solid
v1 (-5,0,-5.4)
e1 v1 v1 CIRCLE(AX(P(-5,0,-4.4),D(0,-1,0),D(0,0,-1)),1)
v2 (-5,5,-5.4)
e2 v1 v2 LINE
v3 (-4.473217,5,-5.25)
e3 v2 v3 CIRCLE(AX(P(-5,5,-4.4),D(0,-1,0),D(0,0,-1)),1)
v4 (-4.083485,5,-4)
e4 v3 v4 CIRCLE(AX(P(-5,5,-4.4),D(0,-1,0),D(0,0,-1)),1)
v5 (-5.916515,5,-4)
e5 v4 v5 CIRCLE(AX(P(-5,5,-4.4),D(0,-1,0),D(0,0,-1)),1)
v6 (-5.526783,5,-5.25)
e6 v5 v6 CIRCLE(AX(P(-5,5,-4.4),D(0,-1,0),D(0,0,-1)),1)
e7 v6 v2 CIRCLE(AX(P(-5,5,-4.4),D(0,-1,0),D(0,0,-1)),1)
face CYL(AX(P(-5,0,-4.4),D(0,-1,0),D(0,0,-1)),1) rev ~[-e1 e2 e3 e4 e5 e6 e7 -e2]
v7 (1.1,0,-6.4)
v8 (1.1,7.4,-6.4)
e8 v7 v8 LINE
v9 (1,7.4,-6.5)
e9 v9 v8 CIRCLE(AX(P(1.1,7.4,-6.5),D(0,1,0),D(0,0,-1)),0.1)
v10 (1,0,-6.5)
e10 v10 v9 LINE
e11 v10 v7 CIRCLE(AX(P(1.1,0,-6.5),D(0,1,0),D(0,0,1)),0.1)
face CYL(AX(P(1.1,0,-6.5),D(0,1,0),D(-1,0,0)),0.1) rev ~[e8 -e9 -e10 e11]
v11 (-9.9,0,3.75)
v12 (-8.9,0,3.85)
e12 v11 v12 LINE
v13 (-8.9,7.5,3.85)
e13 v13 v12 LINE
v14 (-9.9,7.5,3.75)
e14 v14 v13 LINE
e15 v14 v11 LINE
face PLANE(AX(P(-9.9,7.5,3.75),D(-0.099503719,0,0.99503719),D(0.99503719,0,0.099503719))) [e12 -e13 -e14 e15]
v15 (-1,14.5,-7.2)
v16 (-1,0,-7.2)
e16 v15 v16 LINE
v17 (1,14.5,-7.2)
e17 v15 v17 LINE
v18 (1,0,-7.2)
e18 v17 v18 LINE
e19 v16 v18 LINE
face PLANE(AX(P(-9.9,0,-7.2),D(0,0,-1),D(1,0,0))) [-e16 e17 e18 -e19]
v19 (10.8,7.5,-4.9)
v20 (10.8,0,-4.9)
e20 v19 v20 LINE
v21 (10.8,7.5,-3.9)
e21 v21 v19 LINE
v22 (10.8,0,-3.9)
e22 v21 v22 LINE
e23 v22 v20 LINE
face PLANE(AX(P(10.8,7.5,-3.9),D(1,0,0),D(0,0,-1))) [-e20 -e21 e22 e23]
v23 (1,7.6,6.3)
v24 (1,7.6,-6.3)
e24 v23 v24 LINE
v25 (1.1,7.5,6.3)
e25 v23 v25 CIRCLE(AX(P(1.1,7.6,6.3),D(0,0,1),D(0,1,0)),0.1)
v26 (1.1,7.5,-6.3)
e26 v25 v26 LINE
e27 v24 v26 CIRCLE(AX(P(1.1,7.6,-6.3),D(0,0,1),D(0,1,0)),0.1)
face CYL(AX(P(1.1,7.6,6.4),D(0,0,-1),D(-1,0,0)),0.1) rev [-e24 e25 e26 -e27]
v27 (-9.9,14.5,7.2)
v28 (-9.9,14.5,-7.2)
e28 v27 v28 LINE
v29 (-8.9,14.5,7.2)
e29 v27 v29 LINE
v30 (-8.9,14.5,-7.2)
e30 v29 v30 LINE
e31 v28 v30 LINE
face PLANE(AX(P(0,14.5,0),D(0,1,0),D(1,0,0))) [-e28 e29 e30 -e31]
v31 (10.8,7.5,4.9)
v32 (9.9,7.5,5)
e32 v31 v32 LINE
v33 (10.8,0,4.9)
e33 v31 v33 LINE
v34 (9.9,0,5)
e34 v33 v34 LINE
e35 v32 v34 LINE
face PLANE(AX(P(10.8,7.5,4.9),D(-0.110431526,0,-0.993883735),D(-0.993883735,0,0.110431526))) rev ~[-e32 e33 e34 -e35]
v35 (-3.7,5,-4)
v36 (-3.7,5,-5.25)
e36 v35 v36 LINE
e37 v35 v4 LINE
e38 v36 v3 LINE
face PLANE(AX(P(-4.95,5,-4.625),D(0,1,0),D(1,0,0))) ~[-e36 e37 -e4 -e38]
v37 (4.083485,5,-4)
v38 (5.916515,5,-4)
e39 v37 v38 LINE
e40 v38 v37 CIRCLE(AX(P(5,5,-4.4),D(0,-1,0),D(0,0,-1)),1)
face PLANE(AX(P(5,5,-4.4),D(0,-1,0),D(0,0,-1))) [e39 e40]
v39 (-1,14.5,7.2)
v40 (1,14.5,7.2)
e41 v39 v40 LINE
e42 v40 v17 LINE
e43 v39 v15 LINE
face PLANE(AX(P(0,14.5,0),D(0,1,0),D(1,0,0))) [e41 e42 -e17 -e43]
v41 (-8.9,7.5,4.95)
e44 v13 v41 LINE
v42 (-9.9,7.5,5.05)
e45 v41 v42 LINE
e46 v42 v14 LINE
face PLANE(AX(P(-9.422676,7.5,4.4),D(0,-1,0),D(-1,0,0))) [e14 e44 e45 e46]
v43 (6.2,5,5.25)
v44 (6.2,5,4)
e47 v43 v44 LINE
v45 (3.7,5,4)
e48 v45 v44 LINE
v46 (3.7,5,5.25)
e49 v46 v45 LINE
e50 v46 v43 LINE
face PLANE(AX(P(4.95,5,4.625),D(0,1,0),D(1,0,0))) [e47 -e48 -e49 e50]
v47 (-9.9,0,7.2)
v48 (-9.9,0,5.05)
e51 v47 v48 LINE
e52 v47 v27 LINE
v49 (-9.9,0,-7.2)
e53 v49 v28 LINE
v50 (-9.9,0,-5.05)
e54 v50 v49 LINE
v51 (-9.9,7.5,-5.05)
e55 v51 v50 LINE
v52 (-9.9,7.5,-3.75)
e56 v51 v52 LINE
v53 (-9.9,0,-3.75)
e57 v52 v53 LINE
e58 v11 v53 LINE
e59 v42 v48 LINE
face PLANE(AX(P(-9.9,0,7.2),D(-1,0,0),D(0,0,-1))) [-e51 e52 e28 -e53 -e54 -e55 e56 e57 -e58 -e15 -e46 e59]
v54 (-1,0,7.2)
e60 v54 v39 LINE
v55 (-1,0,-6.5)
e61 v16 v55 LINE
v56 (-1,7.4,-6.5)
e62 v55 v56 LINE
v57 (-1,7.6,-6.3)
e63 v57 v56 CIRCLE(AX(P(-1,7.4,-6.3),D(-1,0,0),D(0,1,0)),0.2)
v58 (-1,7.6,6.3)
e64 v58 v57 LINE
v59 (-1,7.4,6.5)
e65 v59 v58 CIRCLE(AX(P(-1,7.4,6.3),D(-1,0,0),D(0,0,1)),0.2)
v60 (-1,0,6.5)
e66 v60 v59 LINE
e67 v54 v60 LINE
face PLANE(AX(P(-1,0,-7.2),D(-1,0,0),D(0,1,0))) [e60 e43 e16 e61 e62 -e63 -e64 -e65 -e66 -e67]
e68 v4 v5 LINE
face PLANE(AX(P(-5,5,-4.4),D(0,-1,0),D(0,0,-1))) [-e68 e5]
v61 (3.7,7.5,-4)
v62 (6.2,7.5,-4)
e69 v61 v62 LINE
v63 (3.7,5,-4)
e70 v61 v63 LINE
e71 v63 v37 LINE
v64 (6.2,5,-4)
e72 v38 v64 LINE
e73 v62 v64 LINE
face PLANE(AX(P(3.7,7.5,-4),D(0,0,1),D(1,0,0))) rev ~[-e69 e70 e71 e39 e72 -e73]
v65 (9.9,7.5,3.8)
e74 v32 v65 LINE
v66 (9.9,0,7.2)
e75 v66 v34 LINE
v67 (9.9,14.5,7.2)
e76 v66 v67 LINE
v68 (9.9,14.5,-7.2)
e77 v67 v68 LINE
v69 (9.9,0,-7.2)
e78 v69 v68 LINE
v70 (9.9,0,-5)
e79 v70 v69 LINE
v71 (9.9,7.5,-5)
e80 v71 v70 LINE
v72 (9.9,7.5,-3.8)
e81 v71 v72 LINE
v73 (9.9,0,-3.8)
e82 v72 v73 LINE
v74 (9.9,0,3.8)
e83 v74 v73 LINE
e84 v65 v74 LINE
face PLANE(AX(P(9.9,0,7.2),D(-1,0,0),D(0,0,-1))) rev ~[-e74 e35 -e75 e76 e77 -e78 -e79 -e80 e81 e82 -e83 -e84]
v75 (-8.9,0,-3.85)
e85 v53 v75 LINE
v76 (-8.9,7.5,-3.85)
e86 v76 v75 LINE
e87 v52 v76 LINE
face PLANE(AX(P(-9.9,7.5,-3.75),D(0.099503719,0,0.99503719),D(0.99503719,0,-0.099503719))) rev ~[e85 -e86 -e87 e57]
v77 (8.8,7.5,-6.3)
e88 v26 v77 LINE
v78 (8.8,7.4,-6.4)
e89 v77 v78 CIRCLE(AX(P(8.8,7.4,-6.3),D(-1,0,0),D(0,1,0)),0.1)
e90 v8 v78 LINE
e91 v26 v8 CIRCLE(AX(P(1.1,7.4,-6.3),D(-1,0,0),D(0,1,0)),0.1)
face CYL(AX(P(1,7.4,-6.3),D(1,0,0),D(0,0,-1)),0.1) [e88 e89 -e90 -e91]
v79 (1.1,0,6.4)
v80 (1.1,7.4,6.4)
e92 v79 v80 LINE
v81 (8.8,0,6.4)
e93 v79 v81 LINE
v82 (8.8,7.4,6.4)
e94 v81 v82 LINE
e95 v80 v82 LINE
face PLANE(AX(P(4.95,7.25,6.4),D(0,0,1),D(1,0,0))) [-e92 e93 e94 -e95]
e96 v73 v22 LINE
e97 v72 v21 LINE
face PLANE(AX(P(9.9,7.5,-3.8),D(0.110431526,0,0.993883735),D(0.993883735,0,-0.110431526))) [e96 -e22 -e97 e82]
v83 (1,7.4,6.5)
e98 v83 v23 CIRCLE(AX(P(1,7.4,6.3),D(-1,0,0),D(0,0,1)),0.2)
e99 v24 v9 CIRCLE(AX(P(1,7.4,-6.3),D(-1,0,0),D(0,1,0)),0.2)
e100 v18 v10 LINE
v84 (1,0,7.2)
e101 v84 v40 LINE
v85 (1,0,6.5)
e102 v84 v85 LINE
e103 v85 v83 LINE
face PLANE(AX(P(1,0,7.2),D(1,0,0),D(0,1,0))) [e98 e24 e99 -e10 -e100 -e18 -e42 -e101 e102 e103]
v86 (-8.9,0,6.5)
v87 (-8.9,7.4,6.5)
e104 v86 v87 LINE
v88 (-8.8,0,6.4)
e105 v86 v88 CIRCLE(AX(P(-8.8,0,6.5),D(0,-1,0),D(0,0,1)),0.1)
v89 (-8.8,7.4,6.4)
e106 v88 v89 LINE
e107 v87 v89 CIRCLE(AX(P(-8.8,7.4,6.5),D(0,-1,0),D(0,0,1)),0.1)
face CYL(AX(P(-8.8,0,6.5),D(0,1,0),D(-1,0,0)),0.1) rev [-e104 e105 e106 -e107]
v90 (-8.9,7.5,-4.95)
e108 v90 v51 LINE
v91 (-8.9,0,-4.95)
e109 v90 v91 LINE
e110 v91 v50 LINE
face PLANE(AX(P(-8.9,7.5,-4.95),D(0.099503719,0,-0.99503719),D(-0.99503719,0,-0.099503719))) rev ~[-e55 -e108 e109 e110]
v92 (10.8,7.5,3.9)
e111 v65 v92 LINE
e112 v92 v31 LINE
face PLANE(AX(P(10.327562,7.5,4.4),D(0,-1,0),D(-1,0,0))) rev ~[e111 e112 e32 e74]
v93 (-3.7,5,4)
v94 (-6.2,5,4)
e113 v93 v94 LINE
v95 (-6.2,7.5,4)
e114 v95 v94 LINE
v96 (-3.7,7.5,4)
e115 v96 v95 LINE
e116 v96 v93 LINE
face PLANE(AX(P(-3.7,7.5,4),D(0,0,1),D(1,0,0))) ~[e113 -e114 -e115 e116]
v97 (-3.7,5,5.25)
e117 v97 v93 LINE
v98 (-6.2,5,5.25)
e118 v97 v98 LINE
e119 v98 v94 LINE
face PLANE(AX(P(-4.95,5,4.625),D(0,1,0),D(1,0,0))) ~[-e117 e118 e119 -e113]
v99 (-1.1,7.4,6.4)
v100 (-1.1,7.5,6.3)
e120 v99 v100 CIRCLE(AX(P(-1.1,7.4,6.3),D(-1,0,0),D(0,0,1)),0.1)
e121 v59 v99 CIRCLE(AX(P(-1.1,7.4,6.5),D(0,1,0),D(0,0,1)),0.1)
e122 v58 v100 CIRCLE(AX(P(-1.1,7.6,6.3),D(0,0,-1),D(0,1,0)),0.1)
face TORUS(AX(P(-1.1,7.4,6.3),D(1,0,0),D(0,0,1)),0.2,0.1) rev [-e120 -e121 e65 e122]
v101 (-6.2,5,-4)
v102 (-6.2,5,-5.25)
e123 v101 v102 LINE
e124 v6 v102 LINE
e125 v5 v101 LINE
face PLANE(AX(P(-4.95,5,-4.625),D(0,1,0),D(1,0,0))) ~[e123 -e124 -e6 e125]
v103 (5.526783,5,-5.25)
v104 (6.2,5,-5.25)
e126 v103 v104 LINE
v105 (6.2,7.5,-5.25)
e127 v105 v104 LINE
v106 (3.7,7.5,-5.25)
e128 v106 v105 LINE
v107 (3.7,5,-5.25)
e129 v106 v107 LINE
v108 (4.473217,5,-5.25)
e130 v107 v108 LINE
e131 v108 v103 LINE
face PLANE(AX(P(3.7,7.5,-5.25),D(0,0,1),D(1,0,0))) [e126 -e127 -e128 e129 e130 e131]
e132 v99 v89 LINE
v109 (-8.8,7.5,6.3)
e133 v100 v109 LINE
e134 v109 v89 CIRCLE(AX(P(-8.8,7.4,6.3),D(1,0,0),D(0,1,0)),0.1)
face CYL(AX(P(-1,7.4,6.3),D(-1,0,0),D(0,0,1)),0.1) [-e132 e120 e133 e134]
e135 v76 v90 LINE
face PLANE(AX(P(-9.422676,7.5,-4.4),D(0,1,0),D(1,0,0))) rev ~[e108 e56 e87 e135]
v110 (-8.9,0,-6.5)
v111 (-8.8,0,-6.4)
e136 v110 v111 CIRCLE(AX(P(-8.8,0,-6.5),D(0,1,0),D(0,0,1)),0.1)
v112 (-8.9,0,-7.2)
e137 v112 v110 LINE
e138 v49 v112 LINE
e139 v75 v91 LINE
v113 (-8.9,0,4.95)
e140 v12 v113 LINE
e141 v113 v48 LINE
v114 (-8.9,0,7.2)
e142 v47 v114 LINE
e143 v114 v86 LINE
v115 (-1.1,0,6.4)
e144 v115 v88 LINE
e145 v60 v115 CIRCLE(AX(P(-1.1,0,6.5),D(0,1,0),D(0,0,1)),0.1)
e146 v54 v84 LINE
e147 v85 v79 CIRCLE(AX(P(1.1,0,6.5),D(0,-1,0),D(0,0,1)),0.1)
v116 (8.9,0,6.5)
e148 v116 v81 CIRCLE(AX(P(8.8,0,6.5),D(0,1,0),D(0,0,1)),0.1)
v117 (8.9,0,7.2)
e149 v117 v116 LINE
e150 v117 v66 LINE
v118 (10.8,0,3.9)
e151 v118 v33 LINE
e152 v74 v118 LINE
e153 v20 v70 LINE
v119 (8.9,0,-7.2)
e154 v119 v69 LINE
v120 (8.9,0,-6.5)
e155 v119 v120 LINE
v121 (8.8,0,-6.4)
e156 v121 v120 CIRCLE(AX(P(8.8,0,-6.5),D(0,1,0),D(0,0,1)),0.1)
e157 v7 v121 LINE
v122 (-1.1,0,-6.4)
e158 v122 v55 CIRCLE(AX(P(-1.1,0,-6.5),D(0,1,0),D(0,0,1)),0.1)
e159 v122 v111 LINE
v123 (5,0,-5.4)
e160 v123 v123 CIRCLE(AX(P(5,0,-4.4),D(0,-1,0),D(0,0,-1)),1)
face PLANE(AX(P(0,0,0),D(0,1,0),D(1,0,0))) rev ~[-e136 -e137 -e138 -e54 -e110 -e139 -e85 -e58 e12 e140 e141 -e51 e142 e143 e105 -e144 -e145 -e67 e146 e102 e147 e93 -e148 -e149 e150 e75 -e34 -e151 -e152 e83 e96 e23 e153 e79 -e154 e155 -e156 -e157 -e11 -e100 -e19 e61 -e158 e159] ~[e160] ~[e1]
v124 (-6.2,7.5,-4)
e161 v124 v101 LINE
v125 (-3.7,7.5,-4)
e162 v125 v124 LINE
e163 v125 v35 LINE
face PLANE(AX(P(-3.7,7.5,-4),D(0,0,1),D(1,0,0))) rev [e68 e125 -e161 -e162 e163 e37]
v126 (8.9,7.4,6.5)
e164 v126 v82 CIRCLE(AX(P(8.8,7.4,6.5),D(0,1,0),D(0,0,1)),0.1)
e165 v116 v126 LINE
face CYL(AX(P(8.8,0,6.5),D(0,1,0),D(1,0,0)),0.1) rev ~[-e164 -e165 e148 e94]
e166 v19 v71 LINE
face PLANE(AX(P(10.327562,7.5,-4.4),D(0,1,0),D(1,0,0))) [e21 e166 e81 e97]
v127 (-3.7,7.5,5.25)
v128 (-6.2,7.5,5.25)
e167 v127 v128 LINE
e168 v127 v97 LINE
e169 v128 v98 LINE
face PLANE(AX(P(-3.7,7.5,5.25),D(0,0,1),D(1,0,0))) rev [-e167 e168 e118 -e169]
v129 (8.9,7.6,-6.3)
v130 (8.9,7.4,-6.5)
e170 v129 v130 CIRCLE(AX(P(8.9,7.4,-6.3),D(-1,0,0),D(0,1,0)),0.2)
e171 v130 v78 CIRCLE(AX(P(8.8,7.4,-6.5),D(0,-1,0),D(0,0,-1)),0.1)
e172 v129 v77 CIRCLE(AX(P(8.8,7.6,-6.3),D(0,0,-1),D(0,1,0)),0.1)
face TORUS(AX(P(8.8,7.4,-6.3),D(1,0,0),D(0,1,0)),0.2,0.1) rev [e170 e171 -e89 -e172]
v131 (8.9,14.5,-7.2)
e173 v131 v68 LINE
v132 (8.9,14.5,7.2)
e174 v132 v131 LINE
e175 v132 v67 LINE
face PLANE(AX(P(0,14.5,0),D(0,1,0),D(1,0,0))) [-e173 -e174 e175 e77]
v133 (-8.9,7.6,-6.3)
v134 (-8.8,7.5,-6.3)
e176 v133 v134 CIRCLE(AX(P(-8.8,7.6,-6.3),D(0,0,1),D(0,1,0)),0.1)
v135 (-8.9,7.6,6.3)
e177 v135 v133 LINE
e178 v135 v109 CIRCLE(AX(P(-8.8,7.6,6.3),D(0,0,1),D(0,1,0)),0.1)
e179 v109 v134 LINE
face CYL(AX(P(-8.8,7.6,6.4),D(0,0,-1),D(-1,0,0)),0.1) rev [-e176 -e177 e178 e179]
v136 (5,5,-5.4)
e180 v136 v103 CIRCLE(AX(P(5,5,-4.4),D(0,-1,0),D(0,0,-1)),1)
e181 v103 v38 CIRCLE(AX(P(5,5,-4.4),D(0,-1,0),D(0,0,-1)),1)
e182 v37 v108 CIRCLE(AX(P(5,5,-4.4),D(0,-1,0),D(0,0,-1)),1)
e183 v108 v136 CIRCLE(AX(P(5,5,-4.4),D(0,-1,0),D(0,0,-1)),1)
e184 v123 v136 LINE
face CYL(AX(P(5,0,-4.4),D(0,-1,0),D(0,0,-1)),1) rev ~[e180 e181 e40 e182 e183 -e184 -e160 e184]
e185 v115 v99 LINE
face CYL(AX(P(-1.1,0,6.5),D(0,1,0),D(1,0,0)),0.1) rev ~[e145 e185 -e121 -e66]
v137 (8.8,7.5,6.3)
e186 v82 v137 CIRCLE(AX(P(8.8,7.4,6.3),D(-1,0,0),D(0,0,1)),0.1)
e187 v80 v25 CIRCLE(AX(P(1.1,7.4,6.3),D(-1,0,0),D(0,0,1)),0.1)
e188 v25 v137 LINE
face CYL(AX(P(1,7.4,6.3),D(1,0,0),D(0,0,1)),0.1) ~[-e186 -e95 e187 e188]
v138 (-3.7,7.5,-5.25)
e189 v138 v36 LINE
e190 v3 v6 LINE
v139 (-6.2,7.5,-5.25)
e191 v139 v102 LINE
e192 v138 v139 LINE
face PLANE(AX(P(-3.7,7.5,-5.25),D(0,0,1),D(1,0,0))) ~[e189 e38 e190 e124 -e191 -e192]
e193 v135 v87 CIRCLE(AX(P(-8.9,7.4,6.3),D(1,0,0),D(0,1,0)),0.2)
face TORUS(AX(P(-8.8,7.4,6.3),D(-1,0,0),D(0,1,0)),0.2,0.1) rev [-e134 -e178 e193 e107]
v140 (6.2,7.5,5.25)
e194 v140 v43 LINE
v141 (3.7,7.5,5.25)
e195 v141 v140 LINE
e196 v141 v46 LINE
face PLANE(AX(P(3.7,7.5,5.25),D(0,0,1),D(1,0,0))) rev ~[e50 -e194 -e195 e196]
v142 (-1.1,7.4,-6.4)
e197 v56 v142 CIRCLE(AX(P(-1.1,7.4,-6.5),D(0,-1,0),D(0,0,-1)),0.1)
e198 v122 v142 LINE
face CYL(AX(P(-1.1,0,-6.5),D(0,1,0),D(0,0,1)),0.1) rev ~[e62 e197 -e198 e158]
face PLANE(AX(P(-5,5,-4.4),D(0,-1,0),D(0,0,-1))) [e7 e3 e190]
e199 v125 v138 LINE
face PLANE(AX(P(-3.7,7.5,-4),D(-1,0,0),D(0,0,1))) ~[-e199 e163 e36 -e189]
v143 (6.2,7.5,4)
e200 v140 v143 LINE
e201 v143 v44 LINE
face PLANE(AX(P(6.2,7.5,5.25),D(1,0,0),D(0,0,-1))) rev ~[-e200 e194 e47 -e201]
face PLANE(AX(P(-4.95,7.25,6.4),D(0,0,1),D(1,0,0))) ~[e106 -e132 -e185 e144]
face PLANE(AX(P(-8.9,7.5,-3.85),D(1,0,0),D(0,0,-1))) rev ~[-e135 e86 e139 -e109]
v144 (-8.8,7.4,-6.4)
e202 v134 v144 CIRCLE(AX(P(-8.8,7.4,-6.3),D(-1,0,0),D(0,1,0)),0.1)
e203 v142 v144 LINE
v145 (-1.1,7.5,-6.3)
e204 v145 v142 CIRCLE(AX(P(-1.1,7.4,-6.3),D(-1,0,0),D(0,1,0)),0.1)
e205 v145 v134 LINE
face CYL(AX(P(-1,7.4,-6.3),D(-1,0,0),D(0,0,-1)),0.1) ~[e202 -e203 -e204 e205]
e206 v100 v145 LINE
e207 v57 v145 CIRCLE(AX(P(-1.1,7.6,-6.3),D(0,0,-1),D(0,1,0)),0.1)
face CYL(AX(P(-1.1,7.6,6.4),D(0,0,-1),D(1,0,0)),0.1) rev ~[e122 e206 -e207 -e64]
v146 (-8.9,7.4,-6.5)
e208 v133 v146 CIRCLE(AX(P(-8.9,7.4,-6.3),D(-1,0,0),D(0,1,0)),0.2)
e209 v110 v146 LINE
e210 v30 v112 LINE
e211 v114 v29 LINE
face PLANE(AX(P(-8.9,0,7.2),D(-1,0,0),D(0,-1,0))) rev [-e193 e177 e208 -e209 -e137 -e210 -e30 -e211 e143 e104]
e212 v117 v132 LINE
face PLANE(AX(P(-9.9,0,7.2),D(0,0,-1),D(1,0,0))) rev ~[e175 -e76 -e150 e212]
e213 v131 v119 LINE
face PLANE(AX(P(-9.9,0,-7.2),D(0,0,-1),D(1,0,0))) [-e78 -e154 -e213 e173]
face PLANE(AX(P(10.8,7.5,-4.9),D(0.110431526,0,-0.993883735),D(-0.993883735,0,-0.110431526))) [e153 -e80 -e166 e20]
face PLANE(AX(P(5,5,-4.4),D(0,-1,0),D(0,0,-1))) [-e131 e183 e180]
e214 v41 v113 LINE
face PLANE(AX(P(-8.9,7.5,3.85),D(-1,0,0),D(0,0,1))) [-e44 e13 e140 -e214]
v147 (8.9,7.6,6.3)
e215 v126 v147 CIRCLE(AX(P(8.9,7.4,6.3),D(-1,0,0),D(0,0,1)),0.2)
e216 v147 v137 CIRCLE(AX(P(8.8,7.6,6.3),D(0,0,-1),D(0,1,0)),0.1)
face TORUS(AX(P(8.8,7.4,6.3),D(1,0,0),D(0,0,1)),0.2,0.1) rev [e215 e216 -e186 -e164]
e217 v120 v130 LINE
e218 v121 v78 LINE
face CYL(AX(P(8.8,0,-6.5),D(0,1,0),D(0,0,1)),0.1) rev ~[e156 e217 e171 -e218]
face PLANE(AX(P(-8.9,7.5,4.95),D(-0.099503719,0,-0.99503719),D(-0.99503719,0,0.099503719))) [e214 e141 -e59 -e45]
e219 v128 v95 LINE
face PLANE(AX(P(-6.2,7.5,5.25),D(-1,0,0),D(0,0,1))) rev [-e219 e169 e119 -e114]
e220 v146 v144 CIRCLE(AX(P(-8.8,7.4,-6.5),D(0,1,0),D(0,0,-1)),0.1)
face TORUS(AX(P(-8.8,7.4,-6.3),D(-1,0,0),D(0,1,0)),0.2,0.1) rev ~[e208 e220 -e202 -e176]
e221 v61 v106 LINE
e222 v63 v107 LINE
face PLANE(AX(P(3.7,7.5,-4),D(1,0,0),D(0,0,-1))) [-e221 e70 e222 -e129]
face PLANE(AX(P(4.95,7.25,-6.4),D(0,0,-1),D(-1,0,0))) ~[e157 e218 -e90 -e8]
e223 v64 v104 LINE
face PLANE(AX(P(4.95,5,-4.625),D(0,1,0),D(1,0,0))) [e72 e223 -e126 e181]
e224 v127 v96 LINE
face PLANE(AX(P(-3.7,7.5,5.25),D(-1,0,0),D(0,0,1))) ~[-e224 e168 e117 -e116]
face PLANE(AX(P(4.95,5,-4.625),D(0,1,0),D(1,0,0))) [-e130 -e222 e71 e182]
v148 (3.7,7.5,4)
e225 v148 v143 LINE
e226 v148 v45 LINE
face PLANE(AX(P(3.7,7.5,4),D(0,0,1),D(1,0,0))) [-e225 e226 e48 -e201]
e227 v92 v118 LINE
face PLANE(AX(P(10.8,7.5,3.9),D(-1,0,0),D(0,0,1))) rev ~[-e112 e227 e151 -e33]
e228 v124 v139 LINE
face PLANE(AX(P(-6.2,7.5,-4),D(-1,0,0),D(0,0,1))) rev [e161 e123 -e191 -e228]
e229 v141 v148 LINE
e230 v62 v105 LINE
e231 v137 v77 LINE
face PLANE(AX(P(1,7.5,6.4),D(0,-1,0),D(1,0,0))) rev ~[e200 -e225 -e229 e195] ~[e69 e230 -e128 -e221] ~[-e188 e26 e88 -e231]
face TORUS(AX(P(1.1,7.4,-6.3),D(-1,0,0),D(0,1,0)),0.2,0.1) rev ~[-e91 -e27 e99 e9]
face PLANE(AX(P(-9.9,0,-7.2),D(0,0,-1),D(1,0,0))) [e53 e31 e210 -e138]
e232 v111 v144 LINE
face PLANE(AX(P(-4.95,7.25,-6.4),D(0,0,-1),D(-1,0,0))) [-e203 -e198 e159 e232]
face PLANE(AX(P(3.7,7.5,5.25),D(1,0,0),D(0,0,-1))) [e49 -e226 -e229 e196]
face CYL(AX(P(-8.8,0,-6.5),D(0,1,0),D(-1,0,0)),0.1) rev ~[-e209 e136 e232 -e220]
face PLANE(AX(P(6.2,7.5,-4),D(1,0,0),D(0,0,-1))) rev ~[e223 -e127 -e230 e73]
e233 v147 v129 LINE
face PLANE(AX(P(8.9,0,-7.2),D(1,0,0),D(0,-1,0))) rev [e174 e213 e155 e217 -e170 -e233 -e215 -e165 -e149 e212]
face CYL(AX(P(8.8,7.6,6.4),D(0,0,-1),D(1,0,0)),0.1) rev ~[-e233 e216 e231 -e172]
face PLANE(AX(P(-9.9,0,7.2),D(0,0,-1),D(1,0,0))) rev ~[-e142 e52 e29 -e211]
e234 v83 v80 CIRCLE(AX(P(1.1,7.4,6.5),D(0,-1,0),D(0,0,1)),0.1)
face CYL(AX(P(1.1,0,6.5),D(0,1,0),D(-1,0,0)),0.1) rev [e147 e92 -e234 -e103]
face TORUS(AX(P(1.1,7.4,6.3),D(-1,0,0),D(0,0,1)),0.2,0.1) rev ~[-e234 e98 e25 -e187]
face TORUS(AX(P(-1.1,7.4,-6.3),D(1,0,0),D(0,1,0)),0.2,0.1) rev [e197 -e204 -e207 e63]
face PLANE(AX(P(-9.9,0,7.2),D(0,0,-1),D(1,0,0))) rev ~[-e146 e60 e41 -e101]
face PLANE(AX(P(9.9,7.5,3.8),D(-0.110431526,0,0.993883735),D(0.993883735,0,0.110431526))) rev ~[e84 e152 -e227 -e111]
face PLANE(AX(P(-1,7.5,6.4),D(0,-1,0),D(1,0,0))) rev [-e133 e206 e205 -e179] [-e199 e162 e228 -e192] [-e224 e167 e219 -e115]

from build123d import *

# Parameters (mm, degrees)
SKETCH1_W               = 19.8
SKETCH1_H               = 14.4
BOSS_EXTRUDE1_DEPTH     = 14.5
SKETCH3_W               = 7.9
SKETCH3_H               = 14.5
CUT_EXTRUDE1_DEPTH      = 0.8
SKETCH4_W               = 7.9
SKETCH4_H               = 7
CUT_EXTRUDE2_DEPTH      = 23.208556909
MIRROR2_COPY_1_SKETCH_W = 7.9
MIRROR2_COPY_1_SKETCH_H = 14.5
MIRROR2_COPY_1_DEPTH    = 0.8
BOSS_EXTRUDE2_DEPTH     = 7.5
FILLET1_R               = 0.1
CUT_EXTRUDE3_DEPTH      = 7.5
SKETCH7_R               = 1
CUT_EXTRUDE4_DEPTH      = 5
SKETCH8_W               = 2.5
SKETCH8_H               = 1.25
CUT_EXTRUDE5_DEPTH      = 2.5


with BuildPart() as part:
    # Sketch1 → Boss-Extrude1 (new body)
    with BuildSketch(Plane(origin=(0, 0, 0), x_dir=(1, 0, 0), z_dir=(0, 1, 0))):
        Rectangle(SKETCH1_W, SKETCH1_H)
    extrude(amount=BOSS_EXTRUDE1_DEPTH)

    # Sketch3 → Cut-Extrude1 (cut)
    with BuildSketch(Plane.XY.offset(7.2)):
        with Locations((4.95, 7.25)):
            Rectangle(SKETCH3_W, SKETCH3_H)
    cut_extrude1 = extrude(amount=-CUT_EXTRUDE1_DEPTH, mode=Mode.SUBTRACT)

    # Mirror1: Cut-Extrude1 across plane
    add(cut_extrude1.mirror(Plane.XY), mode=Mode.SUBTRACT)

    # Sketch4 → Cut-Extrude2 (cut, through all)
    with BuildSketch(Plane.XY.offset(6.4)):
        with Locations((4.95, 11)):
            Rectangle(SKETCH4_W, SKETCH4_H)
    cut_extrude2 = extrude(amount=-CUT_EXTRUDE2_DEPTH, mode=Mode.SUBTRACT)

    # Mirror2: Cut-Extrude1, Cut-Extrude2 across plane
    add(cut_extrude1.mirror(Plane(origin=(0, 0, 0), x_dir=(0, 0, 1), z_dir=(1, 0, 0))), mode=Mode.SUBTRACT)
    add(cut_extrude2.mirror(Plane(origin=(0, 0, 0), x_dir=(0, 0, 1), z_dir=(1, 0, 0))), mode=Mode.SUBTRACT)

    # Mirror2 copy 1 sketch → Mirror2 copy 1 (cut)
    with BuildSketch(Plane(origin=(0, 0, -7.2), x_dir=(-1, 0, 0), z_dir=(0, 0, -1))):
        with Locations((4.95, 7.25)):
            Rectangle(MIRROR2_COPY_1_SKETCH_W, MIRROR2_COPY_1_SKETCH_H)
    extrude(amount=-MIRROR2_COPY_1_DEPTH, mode=Mode.SUBTRACT)

    # Sketch5 → Boss-Extrude2 (add)
    with BuildSketch(Plane(origin=(0, 7.5, 0), x_dir=(1, 0, 0), z_dir=(0, 1, 0))):
        Polygon((9.9, 5), (9.9, 3.8), (10.8, 3.9), (10.8, 4.9), align=None)
        Polygon((9.9, -5), (9.9, -3.8), (10.8, -3.9), (10.8, -4.9), align=None)
    extrude(amount=-BOSS_EXTRUDE2_DEPTH)

    # Fillet1
    fillet1_edges = [part.edges().sort_by_distance(p)[0] for p in [
        (-8.9, 3.75, 6.4),
        (-1, 3.75, 6.4),
        (8.9, 3.75, 6.4),
        (8.9, 3.75, -6.4),
        (1, 3.75, -6.4),
        (4.95, 7.5, -6.4),
        (1, 3.75, 6.4),
        (1, 7.5, 0),
        (8.9, 7.5, 0),
        (4.95, 7.5, 6.4),
        (-8.9, 3.75, -6.4),
        (-1, 3.75, -6.4),
        (-4.95, 7.5, -6.4),
        (-1, 7.5, 0),
        (-4.95, 7.5, 6.4),
        (-8.9, 7.5, 0),
    ]]
    fillet(fillet1_edges, radius=FILLET1_R)

    # Sketch6 → Cut-Extrude3 (cut)
    with BuildSketch(Plane(origin=(0, 7.5, 0), x_dir=(1, 0, 0), z_dir=(0, 1, 0))):
        Polygon((-9.9, 5.05), (-9.9, 3.75), (-8.9, 3.85), (-8.9, 4.95), align=None)
        Polygon((-9.9, -5.05), (-9.9, -3.75), (-8.9, -3.85), (-8.9, -4.95), align=None)
    extrude(amount=-CUT_EXTRUDE3_DEPTH, mode=Mode.SUBTRACT)

    # Sketch7 → Cut-Extrude4 (cut)
    with BuildSketch(Plane.XZ):
        with Locations(Location((-5, -4.4, 0), (0, 0, 270))):
            Circle(SKETCH7_R)
        with Locations(Location((5, -4.4, 0), (0, 0, 270))):
            Circle(SKETCH7_R)
    extrude(amount=-CUT_EXTRUDE4_DEPTH, mode=Mode.SUBTRACT)

    # Sketch8 → Cut-Extrude5 (cut)
    with BuildSketch(Plane(origin=(0, 7.5, 0), x_dir=(1, 0, 0), z_dir=(0, 1, 0))):
        with Locations((4.95, 4.625)):
            Rectangle(SKETCH8_W, SKETCH8_H)
        with Locations((4.95, -4.625)):
            Rectangle(SKETCH8_W, SKETCH8_H)
    cut_extrude5 = extrude(amount=-CUT_EXTRUDE5_DEPTH, mode=Mode.SUBTRACT)

    # Mirror3: Cut-Extrude5 across plane
    add(cut_extrude5.mirror(Plane(origin=(0, 0, 0), x_dir=(0, 0, 1), z_dir=(1, 0, 0))), mode=Mode.SUBTRACT)


solid = part.part
